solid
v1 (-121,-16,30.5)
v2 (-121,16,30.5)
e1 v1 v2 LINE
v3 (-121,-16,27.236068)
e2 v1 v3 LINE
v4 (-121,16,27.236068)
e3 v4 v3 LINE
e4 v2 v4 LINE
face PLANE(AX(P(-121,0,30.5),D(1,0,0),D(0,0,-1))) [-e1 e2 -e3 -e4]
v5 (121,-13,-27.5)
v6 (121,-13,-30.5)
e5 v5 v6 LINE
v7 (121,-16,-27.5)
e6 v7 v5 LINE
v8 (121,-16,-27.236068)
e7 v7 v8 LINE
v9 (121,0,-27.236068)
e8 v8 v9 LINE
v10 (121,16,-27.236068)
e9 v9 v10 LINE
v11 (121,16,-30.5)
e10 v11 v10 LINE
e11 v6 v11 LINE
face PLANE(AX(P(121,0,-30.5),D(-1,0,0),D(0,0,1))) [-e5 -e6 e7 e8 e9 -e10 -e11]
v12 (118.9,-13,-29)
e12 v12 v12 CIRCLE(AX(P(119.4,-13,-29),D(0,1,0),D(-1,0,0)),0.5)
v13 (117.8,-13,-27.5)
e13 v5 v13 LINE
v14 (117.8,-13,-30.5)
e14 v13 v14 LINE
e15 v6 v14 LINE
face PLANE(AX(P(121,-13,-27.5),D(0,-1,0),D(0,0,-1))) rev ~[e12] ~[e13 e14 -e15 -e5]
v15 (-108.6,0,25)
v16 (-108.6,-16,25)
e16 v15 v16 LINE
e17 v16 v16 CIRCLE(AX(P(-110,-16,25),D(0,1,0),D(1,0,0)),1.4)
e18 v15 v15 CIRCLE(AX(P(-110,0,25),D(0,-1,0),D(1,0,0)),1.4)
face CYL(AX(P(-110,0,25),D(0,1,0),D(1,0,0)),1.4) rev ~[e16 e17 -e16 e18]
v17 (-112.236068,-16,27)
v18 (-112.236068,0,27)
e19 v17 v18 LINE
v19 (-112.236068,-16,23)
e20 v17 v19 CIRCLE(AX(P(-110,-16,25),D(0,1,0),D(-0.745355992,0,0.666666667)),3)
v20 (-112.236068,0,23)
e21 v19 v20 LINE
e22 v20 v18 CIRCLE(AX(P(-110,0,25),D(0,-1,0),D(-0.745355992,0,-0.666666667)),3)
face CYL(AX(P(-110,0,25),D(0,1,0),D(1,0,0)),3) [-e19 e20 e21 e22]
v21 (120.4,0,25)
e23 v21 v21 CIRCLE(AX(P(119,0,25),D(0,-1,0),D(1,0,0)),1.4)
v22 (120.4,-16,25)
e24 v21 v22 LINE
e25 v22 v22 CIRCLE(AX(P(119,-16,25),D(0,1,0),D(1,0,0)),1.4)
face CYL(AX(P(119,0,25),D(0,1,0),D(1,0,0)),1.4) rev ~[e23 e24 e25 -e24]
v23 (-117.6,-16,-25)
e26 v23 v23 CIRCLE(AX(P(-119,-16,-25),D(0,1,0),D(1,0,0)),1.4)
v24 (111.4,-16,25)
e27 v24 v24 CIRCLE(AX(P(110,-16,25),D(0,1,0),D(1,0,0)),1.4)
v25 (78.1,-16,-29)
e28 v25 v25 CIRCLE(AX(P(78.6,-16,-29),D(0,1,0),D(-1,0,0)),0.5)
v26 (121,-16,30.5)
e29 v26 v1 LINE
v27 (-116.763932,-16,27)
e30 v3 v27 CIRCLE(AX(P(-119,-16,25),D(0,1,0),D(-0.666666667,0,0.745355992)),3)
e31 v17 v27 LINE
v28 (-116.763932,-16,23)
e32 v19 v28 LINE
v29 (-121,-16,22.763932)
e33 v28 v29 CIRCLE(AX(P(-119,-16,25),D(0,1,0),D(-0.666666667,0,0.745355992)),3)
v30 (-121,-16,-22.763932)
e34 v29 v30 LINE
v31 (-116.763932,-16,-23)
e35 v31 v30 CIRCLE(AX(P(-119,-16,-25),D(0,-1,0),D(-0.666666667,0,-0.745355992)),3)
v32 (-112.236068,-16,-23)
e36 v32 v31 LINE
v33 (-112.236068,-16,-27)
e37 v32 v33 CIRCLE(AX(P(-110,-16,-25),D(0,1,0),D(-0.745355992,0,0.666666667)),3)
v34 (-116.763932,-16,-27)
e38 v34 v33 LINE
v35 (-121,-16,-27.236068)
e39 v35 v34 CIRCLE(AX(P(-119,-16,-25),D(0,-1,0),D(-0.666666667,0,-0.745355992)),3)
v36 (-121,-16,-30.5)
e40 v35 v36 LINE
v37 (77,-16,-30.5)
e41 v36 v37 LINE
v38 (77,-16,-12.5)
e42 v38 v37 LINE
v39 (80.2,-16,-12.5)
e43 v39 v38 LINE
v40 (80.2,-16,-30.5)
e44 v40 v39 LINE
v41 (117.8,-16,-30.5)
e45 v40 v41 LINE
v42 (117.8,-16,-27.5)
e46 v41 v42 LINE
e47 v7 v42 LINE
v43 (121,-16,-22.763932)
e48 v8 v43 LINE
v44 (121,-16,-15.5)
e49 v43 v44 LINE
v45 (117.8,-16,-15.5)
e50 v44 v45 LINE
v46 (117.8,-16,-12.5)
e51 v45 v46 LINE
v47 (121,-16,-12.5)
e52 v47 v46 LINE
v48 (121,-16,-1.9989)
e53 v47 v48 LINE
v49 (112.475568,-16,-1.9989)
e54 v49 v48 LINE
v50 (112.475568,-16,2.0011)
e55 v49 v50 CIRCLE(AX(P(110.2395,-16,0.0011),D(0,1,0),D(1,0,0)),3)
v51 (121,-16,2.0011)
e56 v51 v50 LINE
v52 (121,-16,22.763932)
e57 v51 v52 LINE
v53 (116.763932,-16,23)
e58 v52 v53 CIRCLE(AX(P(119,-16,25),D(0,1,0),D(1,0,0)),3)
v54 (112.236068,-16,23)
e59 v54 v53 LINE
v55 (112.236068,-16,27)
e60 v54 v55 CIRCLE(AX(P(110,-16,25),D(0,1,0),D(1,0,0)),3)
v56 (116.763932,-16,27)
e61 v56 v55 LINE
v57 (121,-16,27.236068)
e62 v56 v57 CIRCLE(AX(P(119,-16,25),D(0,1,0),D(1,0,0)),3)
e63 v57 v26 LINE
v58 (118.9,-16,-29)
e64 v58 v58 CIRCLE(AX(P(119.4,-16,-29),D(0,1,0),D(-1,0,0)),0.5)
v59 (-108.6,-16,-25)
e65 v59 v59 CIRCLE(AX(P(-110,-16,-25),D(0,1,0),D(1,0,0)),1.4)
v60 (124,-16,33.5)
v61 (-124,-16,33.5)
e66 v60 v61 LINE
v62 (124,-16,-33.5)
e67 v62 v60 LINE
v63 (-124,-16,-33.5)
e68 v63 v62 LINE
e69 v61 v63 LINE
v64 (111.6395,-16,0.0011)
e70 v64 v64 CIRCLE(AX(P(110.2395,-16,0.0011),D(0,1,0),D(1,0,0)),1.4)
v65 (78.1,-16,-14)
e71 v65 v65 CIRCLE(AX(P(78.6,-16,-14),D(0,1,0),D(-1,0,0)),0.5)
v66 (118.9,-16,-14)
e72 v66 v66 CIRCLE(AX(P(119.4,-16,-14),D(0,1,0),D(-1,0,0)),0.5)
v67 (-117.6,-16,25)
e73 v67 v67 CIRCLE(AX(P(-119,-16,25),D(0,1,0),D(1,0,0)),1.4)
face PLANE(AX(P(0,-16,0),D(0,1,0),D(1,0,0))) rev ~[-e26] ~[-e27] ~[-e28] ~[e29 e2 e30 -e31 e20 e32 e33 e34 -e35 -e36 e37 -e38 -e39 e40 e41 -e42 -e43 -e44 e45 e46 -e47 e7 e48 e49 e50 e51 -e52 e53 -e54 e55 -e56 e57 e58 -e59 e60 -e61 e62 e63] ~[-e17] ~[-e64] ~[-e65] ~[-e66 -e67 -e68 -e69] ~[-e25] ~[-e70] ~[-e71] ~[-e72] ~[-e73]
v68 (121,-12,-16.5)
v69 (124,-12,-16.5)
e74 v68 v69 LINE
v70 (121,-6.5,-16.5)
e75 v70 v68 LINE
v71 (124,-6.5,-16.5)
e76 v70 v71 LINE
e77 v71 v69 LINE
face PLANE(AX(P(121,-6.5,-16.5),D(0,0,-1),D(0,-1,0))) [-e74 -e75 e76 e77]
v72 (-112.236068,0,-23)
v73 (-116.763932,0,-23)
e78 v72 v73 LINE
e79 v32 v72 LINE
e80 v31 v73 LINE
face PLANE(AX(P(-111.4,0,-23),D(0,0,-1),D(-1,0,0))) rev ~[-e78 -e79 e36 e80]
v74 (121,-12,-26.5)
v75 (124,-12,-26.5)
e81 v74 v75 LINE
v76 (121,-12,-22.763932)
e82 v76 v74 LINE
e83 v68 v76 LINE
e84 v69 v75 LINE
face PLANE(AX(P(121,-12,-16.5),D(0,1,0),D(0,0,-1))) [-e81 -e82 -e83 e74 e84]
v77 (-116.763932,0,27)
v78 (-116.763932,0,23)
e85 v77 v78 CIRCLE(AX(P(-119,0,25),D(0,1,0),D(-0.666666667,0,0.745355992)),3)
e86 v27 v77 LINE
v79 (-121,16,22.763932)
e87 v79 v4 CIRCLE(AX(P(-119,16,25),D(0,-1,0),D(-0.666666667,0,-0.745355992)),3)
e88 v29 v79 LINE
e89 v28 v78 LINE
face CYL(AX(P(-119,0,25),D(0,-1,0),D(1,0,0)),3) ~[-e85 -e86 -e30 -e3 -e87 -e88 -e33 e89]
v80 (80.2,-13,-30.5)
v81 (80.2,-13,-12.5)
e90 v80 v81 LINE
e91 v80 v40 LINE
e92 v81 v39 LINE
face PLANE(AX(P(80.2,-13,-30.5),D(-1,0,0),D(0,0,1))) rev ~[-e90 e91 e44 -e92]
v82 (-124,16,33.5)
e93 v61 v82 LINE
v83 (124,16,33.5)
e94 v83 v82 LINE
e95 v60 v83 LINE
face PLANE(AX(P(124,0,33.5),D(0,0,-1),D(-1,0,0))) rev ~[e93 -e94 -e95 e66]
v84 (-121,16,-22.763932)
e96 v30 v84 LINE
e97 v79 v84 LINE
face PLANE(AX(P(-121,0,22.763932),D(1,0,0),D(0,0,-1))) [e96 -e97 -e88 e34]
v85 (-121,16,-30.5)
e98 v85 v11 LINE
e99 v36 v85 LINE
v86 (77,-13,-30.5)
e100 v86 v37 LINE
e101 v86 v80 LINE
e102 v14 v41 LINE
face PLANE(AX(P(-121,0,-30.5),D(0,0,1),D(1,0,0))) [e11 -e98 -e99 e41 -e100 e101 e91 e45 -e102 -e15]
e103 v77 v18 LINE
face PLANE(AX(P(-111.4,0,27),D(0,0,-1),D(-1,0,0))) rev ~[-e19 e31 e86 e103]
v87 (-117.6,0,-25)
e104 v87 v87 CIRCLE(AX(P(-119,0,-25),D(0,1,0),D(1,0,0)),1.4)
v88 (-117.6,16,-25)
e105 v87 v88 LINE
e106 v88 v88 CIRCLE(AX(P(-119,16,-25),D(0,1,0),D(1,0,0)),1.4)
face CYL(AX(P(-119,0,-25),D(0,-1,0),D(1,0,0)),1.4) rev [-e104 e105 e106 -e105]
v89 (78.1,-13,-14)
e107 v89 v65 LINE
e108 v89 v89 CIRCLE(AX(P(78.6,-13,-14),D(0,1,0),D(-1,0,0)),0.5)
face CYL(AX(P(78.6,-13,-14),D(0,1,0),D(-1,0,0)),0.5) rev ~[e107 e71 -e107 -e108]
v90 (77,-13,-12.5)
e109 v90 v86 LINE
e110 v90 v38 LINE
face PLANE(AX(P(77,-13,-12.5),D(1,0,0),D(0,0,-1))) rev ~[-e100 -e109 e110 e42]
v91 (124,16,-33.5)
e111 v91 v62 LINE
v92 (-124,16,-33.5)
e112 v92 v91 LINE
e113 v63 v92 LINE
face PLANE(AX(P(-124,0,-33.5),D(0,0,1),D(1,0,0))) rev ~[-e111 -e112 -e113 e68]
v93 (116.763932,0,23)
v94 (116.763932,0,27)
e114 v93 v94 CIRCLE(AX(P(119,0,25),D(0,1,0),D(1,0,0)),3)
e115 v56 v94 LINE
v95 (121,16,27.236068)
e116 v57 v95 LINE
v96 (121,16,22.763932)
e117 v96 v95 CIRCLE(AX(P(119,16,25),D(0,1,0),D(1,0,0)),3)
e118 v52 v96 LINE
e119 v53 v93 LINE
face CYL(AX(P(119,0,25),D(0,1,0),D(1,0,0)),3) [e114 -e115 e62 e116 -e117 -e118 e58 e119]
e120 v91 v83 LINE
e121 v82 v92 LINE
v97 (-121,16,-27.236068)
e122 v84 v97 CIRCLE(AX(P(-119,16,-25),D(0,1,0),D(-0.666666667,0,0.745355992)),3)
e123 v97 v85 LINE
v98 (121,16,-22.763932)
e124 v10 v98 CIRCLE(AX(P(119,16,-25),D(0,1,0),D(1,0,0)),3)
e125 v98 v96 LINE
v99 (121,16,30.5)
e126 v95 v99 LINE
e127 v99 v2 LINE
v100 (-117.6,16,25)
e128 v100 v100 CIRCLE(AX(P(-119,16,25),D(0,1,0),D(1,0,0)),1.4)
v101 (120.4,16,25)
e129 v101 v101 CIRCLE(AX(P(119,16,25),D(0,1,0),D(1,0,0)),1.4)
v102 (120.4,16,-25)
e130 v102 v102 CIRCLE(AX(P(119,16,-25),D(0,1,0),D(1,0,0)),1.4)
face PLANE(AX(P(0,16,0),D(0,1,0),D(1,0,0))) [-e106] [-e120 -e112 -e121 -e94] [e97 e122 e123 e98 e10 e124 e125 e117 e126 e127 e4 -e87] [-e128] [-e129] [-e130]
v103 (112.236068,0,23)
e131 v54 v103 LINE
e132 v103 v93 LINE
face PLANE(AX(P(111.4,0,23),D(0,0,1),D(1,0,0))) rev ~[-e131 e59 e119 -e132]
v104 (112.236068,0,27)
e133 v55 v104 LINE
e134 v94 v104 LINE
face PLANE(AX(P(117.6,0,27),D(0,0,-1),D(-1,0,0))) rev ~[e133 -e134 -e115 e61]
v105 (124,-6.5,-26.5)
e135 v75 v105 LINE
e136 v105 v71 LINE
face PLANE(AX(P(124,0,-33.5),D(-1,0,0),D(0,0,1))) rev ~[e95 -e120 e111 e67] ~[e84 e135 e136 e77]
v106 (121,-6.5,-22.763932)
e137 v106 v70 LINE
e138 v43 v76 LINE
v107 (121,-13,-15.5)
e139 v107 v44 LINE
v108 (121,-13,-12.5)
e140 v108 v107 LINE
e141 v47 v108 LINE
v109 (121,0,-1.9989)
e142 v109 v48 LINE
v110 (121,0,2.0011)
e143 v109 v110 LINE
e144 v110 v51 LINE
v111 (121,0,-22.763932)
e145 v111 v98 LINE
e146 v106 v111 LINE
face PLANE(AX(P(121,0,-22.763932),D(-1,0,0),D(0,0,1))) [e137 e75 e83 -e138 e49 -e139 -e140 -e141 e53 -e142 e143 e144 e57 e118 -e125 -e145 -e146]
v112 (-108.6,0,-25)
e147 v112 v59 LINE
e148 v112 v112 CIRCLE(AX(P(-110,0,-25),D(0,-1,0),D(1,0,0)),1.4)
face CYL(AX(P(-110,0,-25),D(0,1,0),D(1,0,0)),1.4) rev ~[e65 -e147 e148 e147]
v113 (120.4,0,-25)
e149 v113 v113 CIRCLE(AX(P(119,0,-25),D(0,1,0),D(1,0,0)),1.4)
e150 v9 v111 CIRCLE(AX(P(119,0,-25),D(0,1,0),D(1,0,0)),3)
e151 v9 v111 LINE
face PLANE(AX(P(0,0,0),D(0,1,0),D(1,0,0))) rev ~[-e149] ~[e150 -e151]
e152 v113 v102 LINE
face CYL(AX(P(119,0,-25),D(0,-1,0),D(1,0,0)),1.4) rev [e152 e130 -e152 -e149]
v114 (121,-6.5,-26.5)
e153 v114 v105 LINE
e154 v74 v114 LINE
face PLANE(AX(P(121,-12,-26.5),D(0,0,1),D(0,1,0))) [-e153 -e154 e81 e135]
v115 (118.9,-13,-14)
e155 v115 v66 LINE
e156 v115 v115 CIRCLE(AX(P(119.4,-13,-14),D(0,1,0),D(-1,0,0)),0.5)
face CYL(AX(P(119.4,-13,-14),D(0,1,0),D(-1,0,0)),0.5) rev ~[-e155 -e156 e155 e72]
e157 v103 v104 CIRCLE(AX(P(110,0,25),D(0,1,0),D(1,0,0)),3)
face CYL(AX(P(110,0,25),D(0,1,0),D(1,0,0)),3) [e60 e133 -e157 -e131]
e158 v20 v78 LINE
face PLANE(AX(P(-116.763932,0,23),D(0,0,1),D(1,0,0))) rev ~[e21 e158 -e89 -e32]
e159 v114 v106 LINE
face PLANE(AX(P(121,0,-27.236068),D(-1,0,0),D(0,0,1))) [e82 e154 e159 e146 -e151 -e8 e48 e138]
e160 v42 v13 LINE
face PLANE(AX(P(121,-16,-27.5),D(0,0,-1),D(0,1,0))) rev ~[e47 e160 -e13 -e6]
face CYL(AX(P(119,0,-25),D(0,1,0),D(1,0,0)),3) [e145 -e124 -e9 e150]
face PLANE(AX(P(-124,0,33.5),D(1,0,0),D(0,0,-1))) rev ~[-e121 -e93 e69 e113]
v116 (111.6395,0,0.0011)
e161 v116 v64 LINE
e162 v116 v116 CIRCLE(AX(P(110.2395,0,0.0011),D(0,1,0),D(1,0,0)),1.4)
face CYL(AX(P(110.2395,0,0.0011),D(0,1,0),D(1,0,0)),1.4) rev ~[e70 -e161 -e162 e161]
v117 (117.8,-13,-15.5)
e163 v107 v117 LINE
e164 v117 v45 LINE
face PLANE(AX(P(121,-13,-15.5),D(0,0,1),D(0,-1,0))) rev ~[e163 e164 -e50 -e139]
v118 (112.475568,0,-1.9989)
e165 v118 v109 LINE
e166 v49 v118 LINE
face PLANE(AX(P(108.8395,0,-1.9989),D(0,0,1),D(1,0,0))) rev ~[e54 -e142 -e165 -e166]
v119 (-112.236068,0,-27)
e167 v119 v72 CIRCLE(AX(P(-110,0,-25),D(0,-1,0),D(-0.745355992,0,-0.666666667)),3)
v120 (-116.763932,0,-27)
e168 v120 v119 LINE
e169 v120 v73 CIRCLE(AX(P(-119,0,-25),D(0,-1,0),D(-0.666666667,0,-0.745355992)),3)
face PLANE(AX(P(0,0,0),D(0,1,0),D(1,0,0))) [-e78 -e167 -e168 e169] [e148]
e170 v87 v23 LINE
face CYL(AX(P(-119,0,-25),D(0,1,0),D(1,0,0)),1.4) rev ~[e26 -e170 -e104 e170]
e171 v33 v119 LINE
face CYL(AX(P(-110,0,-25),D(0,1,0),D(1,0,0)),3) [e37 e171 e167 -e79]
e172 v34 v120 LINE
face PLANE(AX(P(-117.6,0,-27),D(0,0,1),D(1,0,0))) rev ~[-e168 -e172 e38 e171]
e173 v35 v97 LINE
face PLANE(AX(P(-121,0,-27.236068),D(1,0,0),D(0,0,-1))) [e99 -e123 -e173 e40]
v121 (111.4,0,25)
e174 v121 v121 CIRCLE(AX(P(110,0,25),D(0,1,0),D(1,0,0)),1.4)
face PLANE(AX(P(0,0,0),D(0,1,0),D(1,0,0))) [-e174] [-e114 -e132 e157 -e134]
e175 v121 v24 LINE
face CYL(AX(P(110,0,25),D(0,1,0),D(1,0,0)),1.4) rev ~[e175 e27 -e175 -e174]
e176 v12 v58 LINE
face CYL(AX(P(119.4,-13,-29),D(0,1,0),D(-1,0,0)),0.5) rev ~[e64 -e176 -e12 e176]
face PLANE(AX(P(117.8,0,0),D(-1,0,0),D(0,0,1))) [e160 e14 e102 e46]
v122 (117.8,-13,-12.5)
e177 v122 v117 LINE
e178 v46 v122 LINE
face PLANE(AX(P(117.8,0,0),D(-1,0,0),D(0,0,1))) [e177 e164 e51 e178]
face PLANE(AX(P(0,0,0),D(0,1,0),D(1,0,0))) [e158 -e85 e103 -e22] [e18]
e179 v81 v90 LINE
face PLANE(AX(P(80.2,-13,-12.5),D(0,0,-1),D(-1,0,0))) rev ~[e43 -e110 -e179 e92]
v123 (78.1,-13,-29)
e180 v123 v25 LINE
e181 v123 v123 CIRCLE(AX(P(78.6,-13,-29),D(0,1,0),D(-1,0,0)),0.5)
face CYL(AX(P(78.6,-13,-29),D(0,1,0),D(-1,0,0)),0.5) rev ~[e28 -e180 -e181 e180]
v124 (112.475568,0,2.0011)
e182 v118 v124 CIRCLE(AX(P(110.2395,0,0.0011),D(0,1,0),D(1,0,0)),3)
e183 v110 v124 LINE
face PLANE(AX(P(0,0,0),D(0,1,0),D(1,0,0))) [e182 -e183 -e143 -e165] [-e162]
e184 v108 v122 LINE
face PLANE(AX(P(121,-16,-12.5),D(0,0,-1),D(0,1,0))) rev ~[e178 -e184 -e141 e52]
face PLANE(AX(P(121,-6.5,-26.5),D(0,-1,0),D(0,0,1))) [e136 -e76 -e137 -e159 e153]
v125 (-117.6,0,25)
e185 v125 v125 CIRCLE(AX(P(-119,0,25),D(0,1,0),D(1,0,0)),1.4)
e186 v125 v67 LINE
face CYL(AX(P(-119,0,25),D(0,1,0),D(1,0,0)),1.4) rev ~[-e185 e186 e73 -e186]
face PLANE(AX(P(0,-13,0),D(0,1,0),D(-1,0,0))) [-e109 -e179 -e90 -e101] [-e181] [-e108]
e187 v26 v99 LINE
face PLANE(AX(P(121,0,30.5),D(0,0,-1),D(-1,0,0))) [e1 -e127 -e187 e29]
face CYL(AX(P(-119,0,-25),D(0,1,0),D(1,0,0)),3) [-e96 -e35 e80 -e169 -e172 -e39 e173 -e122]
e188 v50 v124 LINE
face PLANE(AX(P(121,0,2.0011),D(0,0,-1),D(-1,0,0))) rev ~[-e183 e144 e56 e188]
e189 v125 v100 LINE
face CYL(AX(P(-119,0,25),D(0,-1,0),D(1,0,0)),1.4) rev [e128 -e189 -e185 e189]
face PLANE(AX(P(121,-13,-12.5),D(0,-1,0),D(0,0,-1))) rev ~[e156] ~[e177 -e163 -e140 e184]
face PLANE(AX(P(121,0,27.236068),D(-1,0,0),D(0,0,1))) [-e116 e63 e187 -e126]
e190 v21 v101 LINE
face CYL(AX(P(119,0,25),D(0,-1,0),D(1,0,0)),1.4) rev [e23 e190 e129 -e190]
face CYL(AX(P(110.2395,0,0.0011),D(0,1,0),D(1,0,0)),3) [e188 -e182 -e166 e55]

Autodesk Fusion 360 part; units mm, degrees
sketch "BoardFootprint" plane through (0, 0, 0) normal (0, 1, 0) x (1, 0, 0)
  line L0 (115, -30) -> (-115, -30)
  line L1 (-115, -30) -> (-115, 30)
  line L2 (-115, 30) -> (115, 30)
  line L3 (115, 30) -> (115, -30)
  line L4 (115, -30) -> (-115, 30) construction
  line L5 (-115, -30) -> (115, 30) construction
  circle A0 centre (-110, -25) radius 3
  circle A1 centre (-110, -25) radius 1.4
  circle A2 centre (110, -25) radius 3
  circle A3 centre (110, -25) radius 1.4
  circle A4 centre (-110, 25) radius 3
  circle A5 centre (-110, 25) radius 1.4
  circle A6 centre (110.2395, -0.0011) radius 3
  circle A7 centre (110.2395, -0.0011) radius 1.4
  dimension "d8" = 230
  dimension "d9" = 60
  dimension "d12" = 6
  dimension "d13" = 2.8
  dimension "d14" = 5
  dimension "d15" = 5
  dimension "d16" = 6
  dimension "d17" = 2.8
  dimension "d18" = 220
  dimension "d19" = 6
  dimension "d20" = 2.8
  dimension "d21" = 50
  dimension "d22" = 6
  dimension "d23" = 2.8
  dimension "d24" = 25
  dimension "d111" = 5
  dimension "d112" = 5
sketch "Frame" plane through (0, 0, 0) normal (0, 1, 0) x (1, 0, 0)
  circle A0 centre (-119, -25) radius 3
  circle A1 centre (-119, -25) radius 1.4
  circle A2 centre (-119, 25) radius 3
  circle A3 centre (-119, 25) radius 1.4
  line L0 (115, -30) -> (-115, -30)
  circle A4 centre (119, -25) radius 3
  circle A5 centre (119, -25) radius 1.4
  circle A6 centre (119, 25) radius 3
  circle A7 centre (119, 25) radius 1.4
  line L1 (-122, 28) -> (-116, 28) construction
  line L2 (-115, 30) -> (115, 30)
  line L3 (-124, 33.5) -> (124, 33.5)
  line L4 (124, 33.5) -> (124, -33.5)
  line L5 (124, -33.5) -> (-124, -33.5)
  line L6 (-124, -33.5) -> (-124, 33.5)
  line L7 (-122, 27.5) -> (-122, 22.5) construction
  line L8 (122, -22.5) -> (122, -27.5) construction
  line L9 (-121, 30.5) -> (121, 30.5)
  line L10 (121, 30.5) -> (121, -30.5)
  line L11 (121, -30.5) -> (-121, -30.5)
  line L12 (-121, -30.5) -> (-121, 30.5)
  point P0 (-110, -25)
  point P1 (-110, 25)
  point P2 (110, -25)
  dimension "d26" = 6
  dimension "d27" = 2.8
  dimension "d28" = 6
  dimension "d29" = 2.8
  dimension "d30" = 50
  dimension "d31" = 9
  dimension "d33" = 9
  dimension "d34" = 5
  dimension "d35" = 6
  dimension "d36" = 2.8
  dimension "d37" = 5
  dimension "d39" = 6
  dimension "d40" = 2.8
  dimension "d41" = 50
  dimension "d44" = 2
  dimension "d52" = 0.5
  dimension "d53" = 3
  dimension "d54" = 3
  dimension "d56" = 0.5
  dimension "d57" = 2
  dimension "d58" = 3
  dimension "d59" = 3
  dimension "d116" = 248
sketch "Interconnects" plane through (0, 0, 0) normal (0, 1, 0) x (1, 0, 0)
  line L0 (-117.6, 27) -> (-111.4, 27)
  line L1 (-111.4, 27) -> (-111.4, 23)
  line L2 (-111.4, 23) -> (-117.6, 23)
  line L3 (-117.6, 23) -> (-117.6, 27)
  circle A0 centre (-119, 25) radius 1.4
  circle A1 centre (-119, 25) radius 1.4
  circle A2 centre (-119, 25) radius 1.4
  circle A3 centre (-110, 25) radius 1.4
  line L4 (-117.6, -23) -> (-111.4, -23)
  line L5 (-111.4, -23) -> (-111.4, -27)
  line L6 (-111.4, -27) -> (-117.6, -27)
  line L7 (-117.6, -27) -> (-117.6, -23)
  line L8 (-120, -23) -> (-109, -23) construction
  line L9 (-120, -27) -> (-109, -27) construction
  circle A4 centre (-119, -25) radius 3
  circle A5 centre (-119, -25) radius 3
  circle A6 centre (-119, -25) radius 1.4
  circle A7 centre (-110, -25) radius 1.4
  circle A8 centre (-119, -25) radius 1.4
  circle A9 centre (-119, -25) radius 3
  circle A10 centre (-119, -25) radius 1.4
  line L10 (-119, 25) -> (-110, 25) construction
  line L11 (-119, -25) -> (-110, -25) construction
  line L12 (110, -25) -> (119, -25) construction
  line L13 (111.4, -23) -> (117.6, -23)
  line L14 (117.6, -23) -> (117.6, -27)
  line L15 (117.6, -27) -> (111.4, -27)
  line L16 (111.4, -27) -> (111.4, -23)
  circle A11 centre (119, -25) radius 1.4
  circle A12 centre (110, -25) radius 1.4
  line L17 (108.8395, 1.9989) -> (121, 1.9989)
  line L18 (121, 1.9989) -> (121, -2.0011)
  line L19 (121, -2.0011) -> (108.8395, -2.0011)
  line L20 (108.8395, -2.0011) -> (108.8395, 1.9989)
  line L21 (110.2395, -0.0011) -> (122, -0.0011) construction
  circle A13 centre (110.2395, -0.0011) radius 1.4
  line L22 (121, 30.5) -> (121, -30.5)
  point P0 (110, -25)
  point P1 (119, -25)
  point P2 (110.2395, -0.0011)
  dimension "d60" = 4
  dimension "d61" = 4
  dimension "d62" = 4
  dimension "d64" = 4
extrude "Extrude1" add sketch "BoardFootprint" sketch "Interconnects" against normal blind 16 contours A0 | A2 | A4 | A6 of sketch 2 contours L0 L1 L2 L3 | L4 L6 L7 A4 A5 A9 | L4 L5 L6 A4 A5 A9 | L13 L14 L15 L16 | A13 | L17 L18 L19 L20 L22 picked at (-117.2323, -26.2179) makes body 1 at (-108.8955, -10.6667, 27.7893) makes body 2 at (112.2704, -10.6667, 2.2092) makes body 3 at (-108.8955, -10.6667, -22.2107) makes body 4 at (112.0309, -10.6667, 27.2081)
extrude "Extrude2" add sketch "Frame" against normal blind 16 contours A0 L12 | A0 L12 | A2 L12 | A2 L12 | A4 L10 | A4 L10 | A6 L10 | A6 L10 | L3 L4 L5 L6 bodies 1 2 3 4
extrude "Extrude3" add sketch "Frame" along normal blind 16 contours A0 L12 | A0 L12 | A2 L12 | A2 L12 | A4 L10 | A4 L10 | A6 L10 | A6 L10 | L3 L4 L5 L6 bodies 1
extrude "Extrude4" cut sketch "Frame" against normal blind 18 contours A6 L10 picked at (120.8, 25) bodies 1
sketch "NanoMountR" plane through (121, 0, 0) normal (-1, 0, 0) x (0, 0, 1)
  line L0 (-1.9989, -16) -> (-1.9989, 0)
  line L1 (-1.9989, 0) -> (2.0011, 0)
  line L2 (2.0011, 0) -> (2.0011, -16)
  line L3 (2.0011, -16) -> (22.7639, -16)
  line L4 (22.7639, -16) -> (22.7639, 16)
  line L5 (22.7639, 16) -> (-22.7639, 16)
  line L6 (-22.7639, 16) -> (-22.7639, 0)
  line L7 (-22.7639, 0) -> (-27.2361, 0)
  line L8 (-27.2361, 0) -> (-27.2361, 16)
  line L9 (-27.2361, 16) -> (-30.5, 16)
  line L10 (-30.5, 16) -> (-30.5, -16)
  line L11 (-30.5, -16) -> (-1.9989, -16)
  line L12 (-30.5, -16) -> (-27.5, -16)
  line L13 (-27.5, -16) -> (-27.5, -13)
  line L14 (-27.5, -13) -> (-30.5, -13)
  line L15 (-30.5, -13) -> (-30.5, -16)
  line L16 (-15.5, -16) -> (-12.5, -16)
  line L17 (-15.5, -13) -> (-15.5, -16)
  line L18 (-12.5, -16) -> (-12.5, -13)
  line L19 (-12.5, -13) -> (-15.5, -13)
  point P0 (-15.5, -16)
  dimension "d73" = 3
  dimension "d74" = 3
  dimension "d75" = 3
  dimension "d76" = 3
  dimension "d77" = 12
extrude "Extrude5" add sketch "NanoMountR" along normal blind 3.2 contours L11 L16 L17 L18 L19 | L10 L11 L12 L13 L14 L15 bodies 1
sketch "NanoMountL" plane through (0, -13, 0) normal (0, 1, 0) x (-1, 0, 0)
  line L0 (-121, -27.5) -> (-121, -30.5)
  line L1 (-121, -30.5) -> (-117.8, -30.5)
  line L2 (-117.8, -30.5) -> (-117.8, -27.5)
  line L3 (-117.8, -27.5) -> (-121, -27.5)
  circle A0 centre (-119.4, -29) radius 0.5
  circle A1 centre (-119.4, -14) radius 0.5
  line L4 (-77, -30.5) -> (-80.2, -30.5)
  line L5 (-80.2, -30.5) -> (-80.2, -12.5)
  line L6 (-80.2, -12.5) -> (-77, -12.5)
  line L7 (-77, -12.5) -> (-77, -30.5)
  circle A2 centre (-78.6, -29) radius 0.5
  circle A3 centre (-78.6, -14) radius 0.5
  line L8 (121, -30.5) -> (-121, -30.5)
  line L9 (-121, -22.7639) -> (-121, 22.7639)
  line L10 (-117.8, -12.5) -> (-117.8, -15.5)
  line L11 (-121, -12.5) -> (-117.8, -12.5)
  point P0 (-121, -12.5)
  dimension "d80" = 1
  dimension "d81" = 1
  dimension "d82" = 15
  dimension "d83" = 1
  dimension "d84" = 1
  dimension "d85" = 15
  dimension "d98" = 1.5
  dimension "d99" = 1.5
  dimension "d100" = 40.8
  dimension "d101" = 1.6
  dimension "d102" = 37.6
extrude "Extrude6" add sketch "NanoMountL" against normal blind 3 contours L4 L5 L6 L7 L8 bodies 1
extrude "Extrude7" cut sketch "NanoMountL" against normal blind 3 contours A0 | A1 bodies 1
sketch "USBPort" plane through (121, 0, 0) normal (-1, 0, 0) x (0, 0, 1)
  line L0 (-15.5, -16) -> (-15.5, -13)
  line L1 (-15.5, -13) -> (-12.5, -13)
  line L2 (-12.5, -13) -> (-12.5, -16)
  line L3 (-12.5, -16) -> (-1.9989, -16)
  line L4 (-1.9989, -16) -> (-1.9989, 0)
  line L5 (-1.9989, 0) -> (2.0011, 0)
  line L6 (2.0011, 0) -> (2.0011, -16)
  line L7 (2.0011, -16) -> (22.7639, -16)
  line L8 (22.7639, -16) -> (22.7639, 16)
  line L9 (22.7639, 16) -> (-22.7639, 16)
  line L10 (-22.7639, 16) -> (-22.7639, 0)
  line L11 (-22.7639, 0) -> (-27.2361, 0)
  line L12 (-27.2361, 0) -> (-27.2361, 16)
  line L13 (-27.2361, 16) -> (-30.5, 16)
  line L14 (-30.5, 16) -> (-30.5, -13)
  line L15 (-30.5, -13) -> (-27.5, -13)
  line L16 (-27.5, -13) -> (-27.5, -16)
  line L17 (-27.5, -16) -> (-15.5, -16)
  line L18 (-26.5, -6.5) -> (-16.5, -6.5)
  line L19 (-16.5, -6.5) -> (-16.5, -12)
  line L20 (-16.5, -12) -> (-26.5, -12)
  line L21 (-26.5, -12) -> (-26.5, -6.5)
  line L22 (-12.5, -13) -> (-30.5, -13)
  line L23 (-21.5, -13) -> (-21.5, -5.5) construction
  dimension "d93" = 10
  dimension "d94" = 5.5
  dimension "d95" = 1
extrude "Extrude8" cut sketch "USBPort" against normal blind 4 contours L18 L19 L20 L21 bodies 1
sketch "Facia" plane through (0, 16, 0) normal (0, 1, 0) x (-1, 0, 0)
  circle A0 centre (-119, 25) radius 1.4
  circle A1 centre (119, 25) radius 1.4
  line L0 (-121, 30.5) -> (121, 30.5)
  line L1 (121, 30.5) -> (121, 27.2361)
  arc A2 (121, 27.2361) -> (121, 22.7639) centre (119, 25) ccw
  line L2 (121, 22.7639) -> (121, -22.7639)
  arc A3 (121, -22.7639) -> (121, -27.2361) centre (119, -25) ccw
  line L3 (121, -27.2361) -> (121, -30.5)
  line L4 (121, -30.5) -> (-121, -30.5)
  line L5 (-121, -30.5) -> (-121, -27.2361)
  arc A4 (-121, -27.2361) -> (-121, -22.7639) centre (-119, -25) ccw
  line L6 (-121, -22.7639) -> (-121, 22.7639)
  arc A5 (-121, 22.7639) -> (-121, 27.2361) centre (-119, 25) ccw
  line L7 (-121, 27.2361) -> (-121, 30.5)
  circle A6 centre (-119, -25) radius 1.4
  circle A7 centre (119, -25) radius 1.4
  line L8 (124, 33.5) -> (-124, 33.5)
  line L9 (-124, 33.5) -> (-124, -33.5)
  line L10 (-124, -33.5) -> (124, -33.5)
  line L11 (124, -33.5) -> (124, 33.5)
  line L12 (124.125, -33.625) -> (-124.125, -33.625)
  line L13 (-124.125, -33.625) -> (-124.125, 33.625)
  line L14 (-124.125, 33.625) -> (124.125, 33.625)
  line L15 (124.125, 33.625) -> (124.125, -33.625)
  line L16 (124, 33.5) -> (124, -33.5)
  line L17 (-124, -33.5) -> (-124, 33.5)
  line L18 (-124, 33.5) -> (124, 33.5)
  circle A8 centre (-119, 25) radius 1.9
  circle A9 centre (-119, -25) radius 1.9
  circle A10 centre (119, -25) radius 1.9
  circle A11 centre (119, 25) radius 1.9
  dimension "d103" = 0.125
  dimension "d104" = 0.125
  dimension "d105" = 0.125
  dimension "d106" = 0.125
  dimension "d107" = 3.8
  dimension "d108" = 3.8
  dimension "d109" = 3.8
  dimension "d110" = 3.8
extrude "Extrude9" cut sketch "BoardFootprint" against normal blind 61 contours A3 | A7 bodies 1
equation "VFDBoardWidth = 230 mm"
equation "VFDBoardHeight = 60 mm"
equation "LLPostVerticalOffset = 5 mm"
equation "LLPostHorizontalOffset = 5 mm"
equation "PostVerticalOffset1 = 50 mm"
equation "PostVerticalOffset2 = 25 mm"
equation "PostHorizontalOffset = 220 mm"
equation "d8 = VFDBoardWidth"
equation "d9 = VFDBoardHeight"
equation "PostInnerDiameter = 2.8 mm"
equation "PostOuterDiameter = 6 mm"
equation "d12 = PostOuterDiameter"
equation "d13 = PostInnerDiameter"
equation "d14 = LLPostVerticalOffset"
equation "d15 = LLPostHorizontalOffset"
equation "d16 = PostOuterDiameter"
equation "d17 = PostInnerDiameter"
equation "d18 = PostHorizontalOffset"
equation "d19 = PostOuterDiameter"
equation "d20 = PostInnerDiameter"
equation "d21 = PostVerticalOffset1"
equation "d22 = PostOuterDiameter"
equation "d23 = PostInnerDiameter"
equation "d24 = PostVerticalOffset2"
equation "d26 = PostOuterDiameter"
equation "d27 = PostInnerDiameter"
equation "d28 = PostOuterDiameter"
equation "d29 = PostInnerDiameter"
equation "d30 = PostVerticalOffset1"
equation "d31 = FaciaPostHorizontalOffset"
equation "FaciaPostHorizontalOffset = 9 mm"
equation "d33 = FaciaPostHorizontalOffset"
equation "d34 = LLPostVerticalOffset"
equation "d35 = PostOuterDiameter"
equation "d36 = PostInnerDiameter"
equation "d37 = LLPostVerticalOffset"
equation "d39 = PostOuterDiameter"
equation "d40 = PostInnerDiameter"
equation "d41 = PostVerticalOffset1"
equation "d44 = FramePostOffset"
equation "FrameThickness = 3 mm"
equation "FramePostOffset = 2 mm"
equation "FrameInnerSlop = 0.5 mm"
equation "d52 = FrameInnerSlop"
equation "d53 = FrameThickness"
equation "d54 = FrameThickness"
equation "d56 = FrameInnerSlop"
equation "d57 = FramePostOffset"
equation "d58 = FrameThickness"
equation "d59 = FrameThickness"
equation "d61 = InterconnectThickness"
equation "d62 = InterconnectThickness"
equation "InterconnectThickness = 4 mm"
equation "d64 = InterconnectThickness"
equation "USBPortWidth = 10 mm"
equation "USBPortHeight = 5.5 mm"
equation "USBPortVerticalOffset = 1 mm"
equation "d93 = USBPortWidth"
equation "d94 = USBPortHeight"
equation "d95 = USBPortVerticalOffset"
equation "d107 = PostInnerDiameter + 1.0 mm"
equation "d108 = PostInnerDiameter + 1 mm"
equation "d109 = PostInnerDiameter + 1 mm"
equation "d110 = PostInnerDiameter + 1 mm"
